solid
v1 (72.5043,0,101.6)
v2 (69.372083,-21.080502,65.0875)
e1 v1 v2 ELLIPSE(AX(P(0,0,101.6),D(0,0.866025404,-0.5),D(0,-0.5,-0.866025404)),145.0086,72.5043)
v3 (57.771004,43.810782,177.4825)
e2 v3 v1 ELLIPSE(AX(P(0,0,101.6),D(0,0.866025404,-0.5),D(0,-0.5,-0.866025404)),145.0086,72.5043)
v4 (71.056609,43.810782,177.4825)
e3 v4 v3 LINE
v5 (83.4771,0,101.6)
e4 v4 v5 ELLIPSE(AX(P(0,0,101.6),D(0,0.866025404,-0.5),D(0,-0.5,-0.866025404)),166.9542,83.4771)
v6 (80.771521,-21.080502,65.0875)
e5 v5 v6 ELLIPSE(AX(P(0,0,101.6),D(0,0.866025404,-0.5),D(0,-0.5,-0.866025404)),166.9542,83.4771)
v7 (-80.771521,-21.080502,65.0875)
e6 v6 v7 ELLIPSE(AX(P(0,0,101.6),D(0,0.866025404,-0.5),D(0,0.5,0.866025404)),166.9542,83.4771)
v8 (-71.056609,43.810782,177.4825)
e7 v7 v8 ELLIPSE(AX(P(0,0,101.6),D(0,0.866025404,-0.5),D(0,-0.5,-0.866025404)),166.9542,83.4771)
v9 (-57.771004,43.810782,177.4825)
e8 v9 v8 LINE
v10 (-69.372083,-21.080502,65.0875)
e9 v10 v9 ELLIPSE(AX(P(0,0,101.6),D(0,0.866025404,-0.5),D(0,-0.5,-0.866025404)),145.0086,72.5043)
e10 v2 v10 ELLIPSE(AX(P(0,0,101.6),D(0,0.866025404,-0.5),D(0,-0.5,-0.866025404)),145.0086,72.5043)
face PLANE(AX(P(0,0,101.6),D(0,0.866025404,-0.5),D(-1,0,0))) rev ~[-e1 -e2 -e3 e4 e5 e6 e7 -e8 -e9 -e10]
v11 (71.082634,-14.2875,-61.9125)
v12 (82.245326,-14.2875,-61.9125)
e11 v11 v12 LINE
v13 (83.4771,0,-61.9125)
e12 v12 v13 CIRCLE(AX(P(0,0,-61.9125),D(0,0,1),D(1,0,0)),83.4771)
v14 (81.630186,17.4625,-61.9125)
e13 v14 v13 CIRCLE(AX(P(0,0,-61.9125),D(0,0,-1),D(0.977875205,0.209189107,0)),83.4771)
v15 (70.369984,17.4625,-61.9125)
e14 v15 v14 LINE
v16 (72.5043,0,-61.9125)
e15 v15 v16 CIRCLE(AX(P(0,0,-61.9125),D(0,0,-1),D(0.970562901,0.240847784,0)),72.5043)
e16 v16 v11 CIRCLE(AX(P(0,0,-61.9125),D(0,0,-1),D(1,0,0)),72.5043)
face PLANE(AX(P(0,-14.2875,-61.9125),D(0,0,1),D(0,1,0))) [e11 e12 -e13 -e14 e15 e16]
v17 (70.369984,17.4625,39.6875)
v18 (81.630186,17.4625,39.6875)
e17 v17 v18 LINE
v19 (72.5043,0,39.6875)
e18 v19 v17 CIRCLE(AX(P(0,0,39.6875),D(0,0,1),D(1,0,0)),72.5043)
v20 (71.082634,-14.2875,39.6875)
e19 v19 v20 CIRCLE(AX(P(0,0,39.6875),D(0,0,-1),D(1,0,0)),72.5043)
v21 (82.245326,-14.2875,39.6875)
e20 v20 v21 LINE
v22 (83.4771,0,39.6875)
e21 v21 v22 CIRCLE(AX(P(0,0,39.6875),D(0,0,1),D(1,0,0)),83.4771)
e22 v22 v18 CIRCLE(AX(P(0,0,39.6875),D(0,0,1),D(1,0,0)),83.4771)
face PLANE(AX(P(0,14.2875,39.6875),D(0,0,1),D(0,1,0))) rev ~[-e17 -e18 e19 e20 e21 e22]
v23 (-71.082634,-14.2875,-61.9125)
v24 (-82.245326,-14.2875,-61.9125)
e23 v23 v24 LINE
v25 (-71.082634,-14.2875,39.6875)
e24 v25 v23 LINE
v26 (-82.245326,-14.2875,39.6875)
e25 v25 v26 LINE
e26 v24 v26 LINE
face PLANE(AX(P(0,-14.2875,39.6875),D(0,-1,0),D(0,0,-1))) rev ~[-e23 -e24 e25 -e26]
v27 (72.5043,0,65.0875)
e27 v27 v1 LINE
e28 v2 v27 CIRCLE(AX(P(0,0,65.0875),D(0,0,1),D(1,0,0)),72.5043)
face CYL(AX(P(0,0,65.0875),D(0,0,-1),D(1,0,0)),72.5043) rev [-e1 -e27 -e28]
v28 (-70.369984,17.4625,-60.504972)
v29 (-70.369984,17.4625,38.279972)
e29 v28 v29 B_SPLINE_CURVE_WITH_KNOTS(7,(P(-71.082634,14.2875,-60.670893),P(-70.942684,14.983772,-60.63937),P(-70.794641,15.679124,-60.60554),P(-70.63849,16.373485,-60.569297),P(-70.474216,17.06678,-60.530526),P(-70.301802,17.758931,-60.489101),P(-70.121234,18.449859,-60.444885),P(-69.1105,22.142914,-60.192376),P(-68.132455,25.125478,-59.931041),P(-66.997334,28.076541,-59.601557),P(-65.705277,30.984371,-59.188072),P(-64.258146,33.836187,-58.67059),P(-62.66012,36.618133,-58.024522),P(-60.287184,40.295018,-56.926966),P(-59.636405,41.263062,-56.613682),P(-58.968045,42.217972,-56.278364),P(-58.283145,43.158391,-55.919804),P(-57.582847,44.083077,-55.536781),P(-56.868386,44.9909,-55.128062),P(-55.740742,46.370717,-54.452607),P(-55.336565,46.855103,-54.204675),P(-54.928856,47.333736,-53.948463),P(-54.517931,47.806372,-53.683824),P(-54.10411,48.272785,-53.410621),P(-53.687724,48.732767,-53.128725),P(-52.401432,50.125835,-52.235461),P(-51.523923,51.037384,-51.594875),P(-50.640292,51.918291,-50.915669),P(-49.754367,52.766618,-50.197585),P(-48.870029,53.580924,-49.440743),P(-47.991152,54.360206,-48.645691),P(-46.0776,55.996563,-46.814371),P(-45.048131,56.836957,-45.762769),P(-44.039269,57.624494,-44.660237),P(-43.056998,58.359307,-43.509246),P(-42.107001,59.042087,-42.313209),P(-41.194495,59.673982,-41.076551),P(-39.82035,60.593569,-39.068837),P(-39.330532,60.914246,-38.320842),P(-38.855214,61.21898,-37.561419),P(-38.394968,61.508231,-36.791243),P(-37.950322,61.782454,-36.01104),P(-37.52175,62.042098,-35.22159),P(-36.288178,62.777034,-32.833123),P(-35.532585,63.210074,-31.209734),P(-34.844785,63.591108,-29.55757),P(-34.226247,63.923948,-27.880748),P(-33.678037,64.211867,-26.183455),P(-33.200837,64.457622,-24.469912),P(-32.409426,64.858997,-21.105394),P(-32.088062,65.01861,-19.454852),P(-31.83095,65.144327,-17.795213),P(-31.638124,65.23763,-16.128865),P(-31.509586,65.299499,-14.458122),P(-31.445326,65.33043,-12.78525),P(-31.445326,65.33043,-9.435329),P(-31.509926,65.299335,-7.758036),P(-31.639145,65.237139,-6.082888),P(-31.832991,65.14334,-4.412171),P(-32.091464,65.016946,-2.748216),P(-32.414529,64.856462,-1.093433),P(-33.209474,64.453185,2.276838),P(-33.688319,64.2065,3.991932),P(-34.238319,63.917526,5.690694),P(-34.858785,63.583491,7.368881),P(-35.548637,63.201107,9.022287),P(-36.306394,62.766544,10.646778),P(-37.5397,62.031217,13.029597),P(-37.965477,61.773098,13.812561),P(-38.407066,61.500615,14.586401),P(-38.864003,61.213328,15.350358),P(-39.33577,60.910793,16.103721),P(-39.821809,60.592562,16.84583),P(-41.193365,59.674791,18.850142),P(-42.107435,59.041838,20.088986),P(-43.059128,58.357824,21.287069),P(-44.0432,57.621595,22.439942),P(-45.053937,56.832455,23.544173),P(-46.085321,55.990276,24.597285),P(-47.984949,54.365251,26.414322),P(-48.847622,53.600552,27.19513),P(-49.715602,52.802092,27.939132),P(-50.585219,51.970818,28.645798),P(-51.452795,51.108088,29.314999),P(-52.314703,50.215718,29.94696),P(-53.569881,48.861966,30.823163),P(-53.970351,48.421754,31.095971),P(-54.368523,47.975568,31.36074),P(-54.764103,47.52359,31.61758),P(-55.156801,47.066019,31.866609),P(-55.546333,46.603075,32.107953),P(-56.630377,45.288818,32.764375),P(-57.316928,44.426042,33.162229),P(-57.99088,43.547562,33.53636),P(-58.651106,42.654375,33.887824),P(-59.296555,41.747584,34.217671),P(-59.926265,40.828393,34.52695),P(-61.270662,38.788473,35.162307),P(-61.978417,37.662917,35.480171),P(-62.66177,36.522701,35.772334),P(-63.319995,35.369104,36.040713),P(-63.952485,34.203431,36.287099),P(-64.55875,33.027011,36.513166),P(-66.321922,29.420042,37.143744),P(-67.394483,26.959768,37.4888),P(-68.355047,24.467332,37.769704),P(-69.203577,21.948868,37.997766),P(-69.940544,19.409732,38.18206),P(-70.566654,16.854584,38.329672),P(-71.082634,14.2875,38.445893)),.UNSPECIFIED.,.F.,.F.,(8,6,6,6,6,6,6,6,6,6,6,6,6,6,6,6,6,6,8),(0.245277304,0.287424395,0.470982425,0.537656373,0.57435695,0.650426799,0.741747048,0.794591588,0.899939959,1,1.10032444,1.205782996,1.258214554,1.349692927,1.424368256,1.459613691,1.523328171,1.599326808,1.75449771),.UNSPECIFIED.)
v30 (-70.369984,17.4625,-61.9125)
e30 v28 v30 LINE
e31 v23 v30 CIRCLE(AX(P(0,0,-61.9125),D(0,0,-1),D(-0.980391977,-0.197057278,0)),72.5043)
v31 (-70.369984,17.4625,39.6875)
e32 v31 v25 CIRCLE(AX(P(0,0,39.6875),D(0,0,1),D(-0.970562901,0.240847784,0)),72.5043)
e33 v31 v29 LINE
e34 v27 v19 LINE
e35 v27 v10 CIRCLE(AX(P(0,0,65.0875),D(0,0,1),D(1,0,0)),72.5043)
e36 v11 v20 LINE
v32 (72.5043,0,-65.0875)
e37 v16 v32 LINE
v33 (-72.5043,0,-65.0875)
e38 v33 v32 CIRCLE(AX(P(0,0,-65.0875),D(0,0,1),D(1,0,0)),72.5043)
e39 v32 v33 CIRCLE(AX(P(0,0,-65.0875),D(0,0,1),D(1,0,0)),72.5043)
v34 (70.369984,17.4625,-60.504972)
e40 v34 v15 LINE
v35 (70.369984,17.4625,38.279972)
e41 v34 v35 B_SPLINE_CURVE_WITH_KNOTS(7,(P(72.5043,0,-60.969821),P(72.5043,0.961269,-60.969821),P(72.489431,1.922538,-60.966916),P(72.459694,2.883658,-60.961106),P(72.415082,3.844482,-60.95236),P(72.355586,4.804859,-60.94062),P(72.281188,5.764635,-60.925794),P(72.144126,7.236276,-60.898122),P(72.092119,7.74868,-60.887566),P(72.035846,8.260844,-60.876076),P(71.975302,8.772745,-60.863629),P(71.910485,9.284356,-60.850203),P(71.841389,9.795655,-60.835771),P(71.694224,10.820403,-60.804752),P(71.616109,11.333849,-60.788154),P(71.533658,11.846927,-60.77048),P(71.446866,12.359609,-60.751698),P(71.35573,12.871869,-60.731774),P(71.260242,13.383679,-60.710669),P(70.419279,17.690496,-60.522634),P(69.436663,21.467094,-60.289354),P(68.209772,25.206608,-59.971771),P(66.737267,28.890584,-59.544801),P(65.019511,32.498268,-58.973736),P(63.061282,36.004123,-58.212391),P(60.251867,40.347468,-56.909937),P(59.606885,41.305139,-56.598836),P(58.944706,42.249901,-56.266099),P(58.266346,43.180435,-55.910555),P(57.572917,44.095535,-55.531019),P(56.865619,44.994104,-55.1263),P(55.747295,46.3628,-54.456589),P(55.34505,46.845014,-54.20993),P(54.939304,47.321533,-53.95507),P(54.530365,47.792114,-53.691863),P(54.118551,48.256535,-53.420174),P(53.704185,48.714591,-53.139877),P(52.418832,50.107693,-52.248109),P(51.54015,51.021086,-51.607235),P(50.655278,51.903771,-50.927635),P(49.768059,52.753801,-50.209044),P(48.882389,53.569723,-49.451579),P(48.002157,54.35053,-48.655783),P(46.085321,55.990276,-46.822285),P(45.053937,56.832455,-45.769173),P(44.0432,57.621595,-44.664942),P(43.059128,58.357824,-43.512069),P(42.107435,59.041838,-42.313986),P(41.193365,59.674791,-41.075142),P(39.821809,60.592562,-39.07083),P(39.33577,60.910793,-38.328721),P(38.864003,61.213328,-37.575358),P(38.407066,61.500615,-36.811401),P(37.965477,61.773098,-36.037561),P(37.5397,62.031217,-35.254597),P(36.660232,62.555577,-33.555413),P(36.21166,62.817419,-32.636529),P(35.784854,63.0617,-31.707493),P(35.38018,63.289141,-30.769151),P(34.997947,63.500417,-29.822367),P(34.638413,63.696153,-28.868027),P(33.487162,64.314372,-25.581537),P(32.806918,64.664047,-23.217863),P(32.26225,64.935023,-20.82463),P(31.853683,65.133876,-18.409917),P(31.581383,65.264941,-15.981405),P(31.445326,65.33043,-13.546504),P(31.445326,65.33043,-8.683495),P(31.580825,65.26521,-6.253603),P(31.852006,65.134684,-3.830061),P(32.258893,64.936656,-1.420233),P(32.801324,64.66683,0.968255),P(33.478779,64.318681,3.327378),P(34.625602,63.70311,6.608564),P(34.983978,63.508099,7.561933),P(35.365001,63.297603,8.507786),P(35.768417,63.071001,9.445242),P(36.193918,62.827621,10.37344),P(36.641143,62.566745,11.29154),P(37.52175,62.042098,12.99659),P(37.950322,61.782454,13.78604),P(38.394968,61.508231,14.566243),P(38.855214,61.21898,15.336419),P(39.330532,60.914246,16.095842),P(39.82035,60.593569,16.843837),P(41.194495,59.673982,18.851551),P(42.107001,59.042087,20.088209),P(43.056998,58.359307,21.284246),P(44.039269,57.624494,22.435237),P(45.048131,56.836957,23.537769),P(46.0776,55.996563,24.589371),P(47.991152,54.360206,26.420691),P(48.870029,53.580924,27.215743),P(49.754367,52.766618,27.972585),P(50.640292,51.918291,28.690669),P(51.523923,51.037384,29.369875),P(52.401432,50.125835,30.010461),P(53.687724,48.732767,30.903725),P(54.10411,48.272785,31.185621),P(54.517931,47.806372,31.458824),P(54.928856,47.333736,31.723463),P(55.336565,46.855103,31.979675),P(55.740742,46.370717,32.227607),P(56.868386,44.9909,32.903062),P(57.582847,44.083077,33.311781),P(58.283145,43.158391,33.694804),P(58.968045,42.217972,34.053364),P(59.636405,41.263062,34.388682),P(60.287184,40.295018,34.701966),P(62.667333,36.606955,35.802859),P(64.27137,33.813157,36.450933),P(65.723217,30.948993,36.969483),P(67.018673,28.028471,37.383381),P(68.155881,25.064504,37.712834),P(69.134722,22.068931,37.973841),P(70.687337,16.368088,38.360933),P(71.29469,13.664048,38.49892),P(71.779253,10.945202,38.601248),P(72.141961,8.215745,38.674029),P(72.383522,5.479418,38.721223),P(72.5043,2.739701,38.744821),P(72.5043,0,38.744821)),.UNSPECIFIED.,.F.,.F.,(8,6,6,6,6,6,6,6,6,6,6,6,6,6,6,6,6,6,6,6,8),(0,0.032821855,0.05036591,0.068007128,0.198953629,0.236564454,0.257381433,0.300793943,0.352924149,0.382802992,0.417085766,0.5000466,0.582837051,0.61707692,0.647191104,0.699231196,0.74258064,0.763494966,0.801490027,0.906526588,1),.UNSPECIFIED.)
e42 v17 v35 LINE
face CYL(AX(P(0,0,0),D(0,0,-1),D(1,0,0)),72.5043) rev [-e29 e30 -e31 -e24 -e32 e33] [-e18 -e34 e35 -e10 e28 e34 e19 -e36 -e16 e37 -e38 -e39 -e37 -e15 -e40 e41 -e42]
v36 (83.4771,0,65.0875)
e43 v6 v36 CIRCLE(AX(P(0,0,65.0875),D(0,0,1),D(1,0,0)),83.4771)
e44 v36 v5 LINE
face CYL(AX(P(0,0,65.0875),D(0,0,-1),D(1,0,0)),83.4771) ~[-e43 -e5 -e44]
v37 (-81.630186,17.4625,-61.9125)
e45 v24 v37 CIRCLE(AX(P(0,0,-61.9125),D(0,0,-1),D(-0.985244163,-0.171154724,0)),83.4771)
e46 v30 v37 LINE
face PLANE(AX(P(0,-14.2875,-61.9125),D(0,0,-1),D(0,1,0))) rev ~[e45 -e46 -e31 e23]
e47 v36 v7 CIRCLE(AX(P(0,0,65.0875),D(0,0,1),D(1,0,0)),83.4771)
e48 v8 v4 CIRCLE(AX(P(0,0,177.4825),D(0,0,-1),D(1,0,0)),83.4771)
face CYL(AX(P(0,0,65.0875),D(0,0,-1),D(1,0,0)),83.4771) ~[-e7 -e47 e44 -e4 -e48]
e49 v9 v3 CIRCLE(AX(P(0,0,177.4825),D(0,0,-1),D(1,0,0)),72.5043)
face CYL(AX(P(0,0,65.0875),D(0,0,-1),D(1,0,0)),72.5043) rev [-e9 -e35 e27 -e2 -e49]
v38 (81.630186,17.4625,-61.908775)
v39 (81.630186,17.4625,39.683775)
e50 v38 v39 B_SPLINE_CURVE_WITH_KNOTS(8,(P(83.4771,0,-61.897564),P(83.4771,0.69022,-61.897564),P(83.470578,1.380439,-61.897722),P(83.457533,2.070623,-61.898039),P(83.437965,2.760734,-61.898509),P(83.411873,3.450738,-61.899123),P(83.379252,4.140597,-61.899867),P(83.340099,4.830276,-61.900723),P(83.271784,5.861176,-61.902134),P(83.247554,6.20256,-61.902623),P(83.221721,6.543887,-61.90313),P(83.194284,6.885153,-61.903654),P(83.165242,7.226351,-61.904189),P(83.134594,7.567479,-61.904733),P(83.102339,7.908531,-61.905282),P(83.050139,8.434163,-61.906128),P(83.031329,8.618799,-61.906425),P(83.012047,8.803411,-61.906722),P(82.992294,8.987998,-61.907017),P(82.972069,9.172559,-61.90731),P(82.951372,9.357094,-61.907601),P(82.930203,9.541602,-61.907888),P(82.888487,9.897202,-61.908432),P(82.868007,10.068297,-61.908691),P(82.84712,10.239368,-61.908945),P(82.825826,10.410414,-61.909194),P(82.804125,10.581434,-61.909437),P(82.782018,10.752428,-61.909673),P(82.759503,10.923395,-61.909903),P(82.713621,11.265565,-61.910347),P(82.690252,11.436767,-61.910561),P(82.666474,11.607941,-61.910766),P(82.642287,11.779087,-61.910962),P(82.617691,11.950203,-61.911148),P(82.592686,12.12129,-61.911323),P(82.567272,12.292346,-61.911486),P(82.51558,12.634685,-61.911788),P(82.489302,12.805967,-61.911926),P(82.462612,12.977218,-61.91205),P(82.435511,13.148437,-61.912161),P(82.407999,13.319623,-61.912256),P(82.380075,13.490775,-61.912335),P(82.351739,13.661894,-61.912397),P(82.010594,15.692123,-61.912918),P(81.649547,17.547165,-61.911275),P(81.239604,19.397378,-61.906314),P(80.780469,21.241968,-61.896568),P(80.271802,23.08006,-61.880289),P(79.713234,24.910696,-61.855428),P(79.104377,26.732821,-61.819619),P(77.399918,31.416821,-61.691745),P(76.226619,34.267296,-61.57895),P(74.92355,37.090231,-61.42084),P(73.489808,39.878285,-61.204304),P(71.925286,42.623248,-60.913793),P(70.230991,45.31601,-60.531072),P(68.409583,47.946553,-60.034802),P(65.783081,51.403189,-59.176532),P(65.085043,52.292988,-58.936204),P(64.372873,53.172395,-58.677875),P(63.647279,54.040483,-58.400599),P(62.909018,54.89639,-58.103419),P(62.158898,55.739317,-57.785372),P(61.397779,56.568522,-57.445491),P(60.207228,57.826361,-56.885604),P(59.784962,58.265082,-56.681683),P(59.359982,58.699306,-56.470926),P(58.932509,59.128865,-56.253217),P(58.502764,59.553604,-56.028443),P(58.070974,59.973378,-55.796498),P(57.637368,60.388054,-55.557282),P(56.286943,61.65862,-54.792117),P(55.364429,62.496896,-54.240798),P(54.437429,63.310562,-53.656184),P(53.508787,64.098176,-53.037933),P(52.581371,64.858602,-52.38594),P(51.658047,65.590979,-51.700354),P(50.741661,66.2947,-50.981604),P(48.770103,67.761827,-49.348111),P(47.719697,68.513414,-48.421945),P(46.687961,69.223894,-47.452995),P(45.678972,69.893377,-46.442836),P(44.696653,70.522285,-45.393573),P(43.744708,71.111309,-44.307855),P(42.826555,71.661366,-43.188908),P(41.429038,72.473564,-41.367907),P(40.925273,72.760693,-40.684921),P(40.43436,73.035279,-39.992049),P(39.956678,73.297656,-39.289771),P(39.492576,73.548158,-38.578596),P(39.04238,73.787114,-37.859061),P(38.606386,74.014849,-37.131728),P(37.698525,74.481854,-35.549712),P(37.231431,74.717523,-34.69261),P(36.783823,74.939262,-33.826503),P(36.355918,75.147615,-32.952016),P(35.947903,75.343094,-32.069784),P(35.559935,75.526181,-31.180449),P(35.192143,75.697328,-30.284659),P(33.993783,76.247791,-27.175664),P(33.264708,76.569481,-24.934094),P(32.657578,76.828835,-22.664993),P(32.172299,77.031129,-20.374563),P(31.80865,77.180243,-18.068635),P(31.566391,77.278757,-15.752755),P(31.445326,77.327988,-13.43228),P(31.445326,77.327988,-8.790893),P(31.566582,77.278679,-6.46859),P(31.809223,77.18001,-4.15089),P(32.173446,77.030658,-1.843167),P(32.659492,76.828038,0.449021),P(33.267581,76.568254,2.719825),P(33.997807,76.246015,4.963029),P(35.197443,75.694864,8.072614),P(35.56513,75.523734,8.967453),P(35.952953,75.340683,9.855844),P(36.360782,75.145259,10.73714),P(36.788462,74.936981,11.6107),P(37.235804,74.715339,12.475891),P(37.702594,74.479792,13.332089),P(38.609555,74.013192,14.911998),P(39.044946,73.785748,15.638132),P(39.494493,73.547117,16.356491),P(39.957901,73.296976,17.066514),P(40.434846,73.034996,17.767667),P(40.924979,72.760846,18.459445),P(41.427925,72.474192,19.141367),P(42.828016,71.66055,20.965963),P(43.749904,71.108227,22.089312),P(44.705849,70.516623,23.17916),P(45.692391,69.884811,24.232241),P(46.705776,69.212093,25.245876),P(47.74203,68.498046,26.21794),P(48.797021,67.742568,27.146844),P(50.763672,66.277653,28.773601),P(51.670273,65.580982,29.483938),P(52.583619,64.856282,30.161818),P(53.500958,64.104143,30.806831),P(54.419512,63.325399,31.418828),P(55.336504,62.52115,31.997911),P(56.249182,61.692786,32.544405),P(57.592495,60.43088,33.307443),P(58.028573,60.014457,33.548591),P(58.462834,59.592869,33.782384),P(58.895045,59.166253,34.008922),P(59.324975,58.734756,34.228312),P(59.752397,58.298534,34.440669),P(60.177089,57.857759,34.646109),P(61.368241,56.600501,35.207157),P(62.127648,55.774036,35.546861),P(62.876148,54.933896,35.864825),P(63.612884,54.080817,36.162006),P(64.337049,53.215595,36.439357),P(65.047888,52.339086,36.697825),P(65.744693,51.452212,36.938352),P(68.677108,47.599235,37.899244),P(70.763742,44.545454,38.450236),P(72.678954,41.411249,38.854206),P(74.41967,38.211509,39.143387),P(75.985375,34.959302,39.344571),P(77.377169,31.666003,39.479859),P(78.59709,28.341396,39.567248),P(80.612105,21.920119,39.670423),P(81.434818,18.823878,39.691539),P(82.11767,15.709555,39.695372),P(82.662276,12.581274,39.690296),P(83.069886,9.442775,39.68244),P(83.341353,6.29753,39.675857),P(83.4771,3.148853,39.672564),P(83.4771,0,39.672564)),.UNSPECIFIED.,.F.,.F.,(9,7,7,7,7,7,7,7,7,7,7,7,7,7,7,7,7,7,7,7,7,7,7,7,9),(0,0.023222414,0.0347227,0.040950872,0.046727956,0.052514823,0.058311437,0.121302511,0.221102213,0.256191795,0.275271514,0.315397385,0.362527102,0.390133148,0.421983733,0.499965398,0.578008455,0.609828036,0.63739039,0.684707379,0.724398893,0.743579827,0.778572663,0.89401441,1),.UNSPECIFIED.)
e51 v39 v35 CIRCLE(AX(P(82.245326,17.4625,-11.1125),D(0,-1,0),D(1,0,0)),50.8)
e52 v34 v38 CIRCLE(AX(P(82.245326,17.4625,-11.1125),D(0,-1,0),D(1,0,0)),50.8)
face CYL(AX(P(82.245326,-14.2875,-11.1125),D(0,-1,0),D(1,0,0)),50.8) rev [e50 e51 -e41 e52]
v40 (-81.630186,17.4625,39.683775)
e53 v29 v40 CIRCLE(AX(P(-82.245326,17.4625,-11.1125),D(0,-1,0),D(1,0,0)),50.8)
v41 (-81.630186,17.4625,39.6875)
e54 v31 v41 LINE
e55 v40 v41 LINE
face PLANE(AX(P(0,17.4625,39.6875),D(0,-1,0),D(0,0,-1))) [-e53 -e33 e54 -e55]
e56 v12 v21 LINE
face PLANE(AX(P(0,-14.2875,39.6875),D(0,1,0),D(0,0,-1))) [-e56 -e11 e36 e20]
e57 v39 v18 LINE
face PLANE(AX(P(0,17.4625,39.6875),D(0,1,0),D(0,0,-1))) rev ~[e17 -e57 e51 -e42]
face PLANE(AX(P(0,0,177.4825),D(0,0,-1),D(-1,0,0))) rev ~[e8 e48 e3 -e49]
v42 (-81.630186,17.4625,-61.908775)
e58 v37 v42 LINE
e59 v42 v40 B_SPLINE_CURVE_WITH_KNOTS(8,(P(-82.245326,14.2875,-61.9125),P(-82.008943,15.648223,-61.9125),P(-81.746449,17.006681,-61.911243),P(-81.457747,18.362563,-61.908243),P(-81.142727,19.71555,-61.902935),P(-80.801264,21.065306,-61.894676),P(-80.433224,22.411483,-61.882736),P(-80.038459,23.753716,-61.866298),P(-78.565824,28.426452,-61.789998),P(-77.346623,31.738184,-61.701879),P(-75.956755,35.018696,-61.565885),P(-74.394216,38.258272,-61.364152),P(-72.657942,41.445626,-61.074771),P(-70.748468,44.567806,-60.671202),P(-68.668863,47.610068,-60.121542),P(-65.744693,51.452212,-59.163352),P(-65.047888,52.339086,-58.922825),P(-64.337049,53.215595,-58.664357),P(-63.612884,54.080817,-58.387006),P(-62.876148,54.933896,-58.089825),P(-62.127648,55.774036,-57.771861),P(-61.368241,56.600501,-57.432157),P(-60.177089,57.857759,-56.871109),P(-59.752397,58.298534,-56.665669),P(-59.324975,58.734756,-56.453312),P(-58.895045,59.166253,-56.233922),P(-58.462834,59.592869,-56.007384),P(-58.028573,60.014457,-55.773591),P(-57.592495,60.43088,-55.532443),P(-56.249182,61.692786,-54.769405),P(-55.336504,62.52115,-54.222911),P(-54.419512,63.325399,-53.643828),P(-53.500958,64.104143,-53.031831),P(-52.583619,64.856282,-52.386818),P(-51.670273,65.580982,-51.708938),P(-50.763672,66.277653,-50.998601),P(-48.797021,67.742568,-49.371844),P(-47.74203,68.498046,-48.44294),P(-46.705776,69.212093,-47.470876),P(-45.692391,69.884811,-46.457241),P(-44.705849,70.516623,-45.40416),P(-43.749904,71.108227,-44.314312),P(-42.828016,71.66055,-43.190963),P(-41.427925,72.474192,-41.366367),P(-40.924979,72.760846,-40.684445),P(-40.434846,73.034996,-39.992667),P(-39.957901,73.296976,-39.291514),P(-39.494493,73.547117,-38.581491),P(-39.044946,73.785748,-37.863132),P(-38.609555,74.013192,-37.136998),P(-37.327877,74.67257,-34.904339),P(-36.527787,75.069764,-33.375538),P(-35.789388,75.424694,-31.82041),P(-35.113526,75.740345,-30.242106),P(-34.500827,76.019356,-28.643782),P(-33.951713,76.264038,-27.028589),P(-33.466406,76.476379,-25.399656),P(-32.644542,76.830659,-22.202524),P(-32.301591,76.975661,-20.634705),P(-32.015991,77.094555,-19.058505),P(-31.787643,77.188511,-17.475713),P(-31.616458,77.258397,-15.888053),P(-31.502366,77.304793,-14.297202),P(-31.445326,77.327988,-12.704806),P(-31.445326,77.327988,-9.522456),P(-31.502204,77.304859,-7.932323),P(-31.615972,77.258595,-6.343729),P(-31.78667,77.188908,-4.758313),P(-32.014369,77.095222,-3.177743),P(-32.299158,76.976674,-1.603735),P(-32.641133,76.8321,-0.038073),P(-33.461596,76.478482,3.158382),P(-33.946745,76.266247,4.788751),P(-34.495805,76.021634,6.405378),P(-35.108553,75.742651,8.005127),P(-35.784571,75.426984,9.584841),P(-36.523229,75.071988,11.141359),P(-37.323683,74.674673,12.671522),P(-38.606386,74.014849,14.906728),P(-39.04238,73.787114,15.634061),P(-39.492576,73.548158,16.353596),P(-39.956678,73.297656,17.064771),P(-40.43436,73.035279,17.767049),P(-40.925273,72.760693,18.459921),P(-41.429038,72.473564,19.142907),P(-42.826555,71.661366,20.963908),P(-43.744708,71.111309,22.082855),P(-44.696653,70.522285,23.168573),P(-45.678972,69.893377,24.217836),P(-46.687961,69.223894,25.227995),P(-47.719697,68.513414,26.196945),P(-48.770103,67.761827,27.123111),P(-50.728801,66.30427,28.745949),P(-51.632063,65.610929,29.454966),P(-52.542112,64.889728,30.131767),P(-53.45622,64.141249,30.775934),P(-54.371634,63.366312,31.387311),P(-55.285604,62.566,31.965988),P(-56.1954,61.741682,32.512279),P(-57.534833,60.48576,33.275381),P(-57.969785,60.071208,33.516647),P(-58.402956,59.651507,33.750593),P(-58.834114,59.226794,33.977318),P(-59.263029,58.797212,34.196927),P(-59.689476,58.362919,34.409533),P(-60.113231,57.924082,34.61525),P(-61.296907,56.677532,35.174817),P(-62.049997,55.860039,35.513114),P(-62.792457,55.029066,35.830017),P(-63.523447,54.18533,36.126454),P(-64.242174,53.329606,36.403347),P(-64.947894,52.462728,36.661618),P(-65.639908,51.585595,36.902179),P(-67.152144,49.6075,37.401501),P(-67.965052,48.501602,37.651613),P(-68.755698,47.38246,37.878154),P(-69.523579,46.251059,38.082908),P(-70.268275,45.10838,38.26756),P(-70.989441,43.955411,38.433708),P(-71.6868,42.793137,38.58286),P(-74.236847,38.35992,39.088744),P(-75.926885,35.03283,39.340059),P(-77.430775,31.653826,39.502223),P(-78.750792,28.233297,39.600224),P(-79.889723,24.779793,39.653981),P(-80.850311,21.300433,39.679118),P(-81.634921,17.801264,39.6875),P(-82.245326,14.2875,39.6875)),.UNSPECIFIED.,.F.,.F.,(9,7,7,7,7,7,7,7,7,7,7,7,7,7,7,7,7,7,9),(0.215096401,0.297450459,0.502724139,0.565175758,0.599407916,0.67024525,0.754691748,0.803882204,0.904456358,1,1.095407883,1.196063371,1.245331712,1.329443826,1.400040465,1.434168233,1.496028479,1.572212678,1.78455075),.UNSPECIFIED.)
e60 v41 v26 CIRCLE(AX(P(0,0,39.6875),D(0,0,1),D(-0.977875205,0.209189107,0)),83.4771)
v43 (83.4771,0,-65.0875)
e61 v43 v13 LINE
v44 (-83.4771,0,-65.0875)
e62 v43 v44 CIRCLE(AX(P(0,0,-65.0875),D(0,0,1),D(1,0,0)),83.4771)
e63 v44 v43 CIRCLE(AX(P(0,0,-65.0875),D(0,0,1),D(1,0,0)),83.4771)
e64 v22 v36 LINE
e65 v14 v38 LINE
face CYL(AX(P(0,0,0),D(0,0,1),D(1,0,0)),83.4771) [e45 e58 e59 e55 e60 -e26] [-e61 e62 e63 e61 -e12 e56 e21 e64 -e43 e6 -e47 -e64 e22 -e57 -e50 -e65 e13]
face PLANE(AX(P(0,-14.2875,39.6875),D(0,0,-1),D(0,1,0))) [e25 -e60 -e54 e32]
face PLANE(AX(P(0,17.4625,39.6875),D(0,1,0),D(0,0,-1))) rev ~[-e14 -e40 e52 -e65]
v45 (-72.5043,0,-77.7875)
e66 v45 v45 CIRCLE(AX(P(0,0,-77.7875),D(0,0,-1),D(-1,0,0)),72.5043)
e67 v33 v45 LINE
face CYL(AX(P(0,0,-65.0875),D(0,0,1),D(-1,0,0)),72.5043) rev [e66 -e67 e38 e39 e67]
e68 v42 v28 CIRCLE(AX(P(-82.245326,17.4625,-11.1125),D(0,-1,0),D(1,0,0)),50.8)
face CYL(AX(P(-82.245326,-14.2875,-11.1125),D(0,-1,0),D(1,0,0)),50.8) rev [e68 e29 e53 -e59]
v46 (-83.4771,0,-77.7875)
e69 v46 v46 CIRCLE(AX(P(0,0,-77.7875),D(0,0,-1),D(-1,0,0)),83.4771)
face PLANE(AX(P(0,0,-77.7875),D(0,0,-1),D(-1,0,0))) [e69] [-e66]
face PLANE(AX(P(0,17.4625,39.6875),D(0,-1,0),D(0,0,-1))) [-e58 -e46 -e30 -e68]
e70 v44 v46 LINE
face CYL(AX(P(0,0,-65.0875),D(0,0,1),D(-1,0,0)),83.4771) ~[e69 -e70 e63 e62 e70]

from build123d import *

# Parameters (mm, degrees)
SKETCH1_R               = 83.4771
SKETCH1_R_2             = 72.5043
BOSS_EXTRUDE1_DEPTH     = 65.0875
SKETCH3_W               = 101.6
SKETCH3_H               = 28.575
CUT_EXTRUDE2_DEPTH      = 84.4771
CUT_EXTRUDE2_DEPTH_BACK = 84.4771
SKETCH4_R               = 50.8
CUT_EXTRUDE3_DEPTH      = 98.7646
SKETCH6_W               = 101.6
SKETCH6_H               = 3.175
CUT_EXTRUDE4_DEPTH      = 84.4771001
CUT_EXTRUDE4_DEPTH_BACK = 84.4771001
SKETCH9_R               = 83.4771
SKETCH9_R_2             = 72.5043
BOSS_EXTRUDE2_DEPTH     = 508
SKETCH13_W              = 203.2
SKETCH13_H              = 2032
CUT_EXTRUDE7_DEPTH      = 762
SKETCH15_W              = 203.2
SKETCH15_H              = 203.2
CUT_EXTRUDE9_DEPTH      = 203.2
SKETCH16_R              = 83.4771
SKETCH16_R_2            = 72.5043
BOSS_EXTRUDE3_DEPTH     = 12.7


with BuildPart() as part:
    # Sketch1 → Boss-Extrude1 (new body, symmetric)
    with BuildSketch(Plane.XY):
        Circle(SKETCH1_R)
        Circle(SKETCH1_R_2, mode=Mode.SUBTRACT)
    extrude(amount=BOSS_EXTRUDE1_DEPTH, both=True)

    # Sketch3 → Cut-Extrude2 (cut, two sides)
    with BuildSketch(Plane(origin=(0, 0, 0), x_dir=(0, 0, -1), z_dir=(1, 0, 0))) as cut_extrude2_sk:
        with Locations((11.1125, 0)):
            Rectangle(SKETCH3_W, SKETCH3_H)
    extrude(amount=CUT_EXTRUDE2_DEPTH, mode=Mode.SUBTRACT)
    extrude(cut_extrude2_sk.sketch, amount=-CUT_EXTRUDE2_DEPTH_BACK, mode=Mode.SUBTRACT)

    # Sketch4 → Cut-Extrude3 (cut, through all)
    with BuildSketch(Plane(origin=(0, -14.2875, 0), x_dir=(1, 0, 0), z_dir=(0, 1, 0))):
        with Locations((-82.245325509, 11.1125)):
            Circle(SKETCH4_R)
        with Locations((82.245325509, 11.1125)):
            Circle(SKETCH4_R)
    extrude(amount=CUT_EXTRUDE3_DEPTH, mode=Mode.SUBTRACT)

    # Sketch6 → Cut-Extrude4 (cut, two sides)
    with BuildSketch(Plane(origin=(0, 0, 0), x_dir=(0, 0, -1), z_dir=(1, 0, 0))) as cut_extrude4_sk:
        with Locations((11.1125, 15.875)):
            Rectangle(SKETCH6_W, SKETCH6_H)
    extrude(amount=CUT_EXTRUDE4_DEPTH, mode=Mode.SUBTRACT)
    extrude(cut_extrude4_sk.sketch, amount=-CUT_EXTRUDE4_DEPTH_BACK, mode=Mode.SUBTRACT)

    # Sketch9 → Boss-Extrude2 (add)
    with BuildSketch(Plane.XY.offset(65.0875)):
        Circle(SKETCH9_R)
        Circle(SKETCH9_R_2, mode=Mode.SUBTRACT)
    extrude(amount=BOSS_EXTRUDE2_DEPTH)

    # Sketch13 → Cut-Extrude7 (cut)
    with BuildSketch(Plane(origin=(0, -43.994090512, 25.4), x_dir=(-1, 0, 0), z_dir=(0, 0.866025404, -0.5))):
        with Locations((0, 87.988181024)):
            Rectangle(SKETCH13_W, SKETCH13_H)
    extrude(amount=-CUT_EXTRUDE7_DEPTH, mode=Mode.SUBTRACT)

    # Sketch15 → Cut-Extrude9 (cut)
    with BuildSketch(Plane(origin=(0, 0, 177.4825), x_dir=(-1, 0, 0), z_dir=(0, 0, -1))):
        Rectangle(SKETCH15_W, SKETCH15_H)
    extrude(amount=-CUT_EXTRUDE9_DEPTH, mode=Mode.SUBTRACT)

    # Sketch16 → Boss-Extrude3 (add)
    with BuildSketch(Plane(origin=(0, 0, -65.0875), x_dir=(-1, 0, 0), z_dir=(0, 0, -1))):
        Circle(SKETCH16_R)
        Circle(SKETCH16_R_2, mode=Mode.SUBTRACT)
    extrude(amount=BOSS_EXTRUDE3_DEPTH)


solid = part.part
